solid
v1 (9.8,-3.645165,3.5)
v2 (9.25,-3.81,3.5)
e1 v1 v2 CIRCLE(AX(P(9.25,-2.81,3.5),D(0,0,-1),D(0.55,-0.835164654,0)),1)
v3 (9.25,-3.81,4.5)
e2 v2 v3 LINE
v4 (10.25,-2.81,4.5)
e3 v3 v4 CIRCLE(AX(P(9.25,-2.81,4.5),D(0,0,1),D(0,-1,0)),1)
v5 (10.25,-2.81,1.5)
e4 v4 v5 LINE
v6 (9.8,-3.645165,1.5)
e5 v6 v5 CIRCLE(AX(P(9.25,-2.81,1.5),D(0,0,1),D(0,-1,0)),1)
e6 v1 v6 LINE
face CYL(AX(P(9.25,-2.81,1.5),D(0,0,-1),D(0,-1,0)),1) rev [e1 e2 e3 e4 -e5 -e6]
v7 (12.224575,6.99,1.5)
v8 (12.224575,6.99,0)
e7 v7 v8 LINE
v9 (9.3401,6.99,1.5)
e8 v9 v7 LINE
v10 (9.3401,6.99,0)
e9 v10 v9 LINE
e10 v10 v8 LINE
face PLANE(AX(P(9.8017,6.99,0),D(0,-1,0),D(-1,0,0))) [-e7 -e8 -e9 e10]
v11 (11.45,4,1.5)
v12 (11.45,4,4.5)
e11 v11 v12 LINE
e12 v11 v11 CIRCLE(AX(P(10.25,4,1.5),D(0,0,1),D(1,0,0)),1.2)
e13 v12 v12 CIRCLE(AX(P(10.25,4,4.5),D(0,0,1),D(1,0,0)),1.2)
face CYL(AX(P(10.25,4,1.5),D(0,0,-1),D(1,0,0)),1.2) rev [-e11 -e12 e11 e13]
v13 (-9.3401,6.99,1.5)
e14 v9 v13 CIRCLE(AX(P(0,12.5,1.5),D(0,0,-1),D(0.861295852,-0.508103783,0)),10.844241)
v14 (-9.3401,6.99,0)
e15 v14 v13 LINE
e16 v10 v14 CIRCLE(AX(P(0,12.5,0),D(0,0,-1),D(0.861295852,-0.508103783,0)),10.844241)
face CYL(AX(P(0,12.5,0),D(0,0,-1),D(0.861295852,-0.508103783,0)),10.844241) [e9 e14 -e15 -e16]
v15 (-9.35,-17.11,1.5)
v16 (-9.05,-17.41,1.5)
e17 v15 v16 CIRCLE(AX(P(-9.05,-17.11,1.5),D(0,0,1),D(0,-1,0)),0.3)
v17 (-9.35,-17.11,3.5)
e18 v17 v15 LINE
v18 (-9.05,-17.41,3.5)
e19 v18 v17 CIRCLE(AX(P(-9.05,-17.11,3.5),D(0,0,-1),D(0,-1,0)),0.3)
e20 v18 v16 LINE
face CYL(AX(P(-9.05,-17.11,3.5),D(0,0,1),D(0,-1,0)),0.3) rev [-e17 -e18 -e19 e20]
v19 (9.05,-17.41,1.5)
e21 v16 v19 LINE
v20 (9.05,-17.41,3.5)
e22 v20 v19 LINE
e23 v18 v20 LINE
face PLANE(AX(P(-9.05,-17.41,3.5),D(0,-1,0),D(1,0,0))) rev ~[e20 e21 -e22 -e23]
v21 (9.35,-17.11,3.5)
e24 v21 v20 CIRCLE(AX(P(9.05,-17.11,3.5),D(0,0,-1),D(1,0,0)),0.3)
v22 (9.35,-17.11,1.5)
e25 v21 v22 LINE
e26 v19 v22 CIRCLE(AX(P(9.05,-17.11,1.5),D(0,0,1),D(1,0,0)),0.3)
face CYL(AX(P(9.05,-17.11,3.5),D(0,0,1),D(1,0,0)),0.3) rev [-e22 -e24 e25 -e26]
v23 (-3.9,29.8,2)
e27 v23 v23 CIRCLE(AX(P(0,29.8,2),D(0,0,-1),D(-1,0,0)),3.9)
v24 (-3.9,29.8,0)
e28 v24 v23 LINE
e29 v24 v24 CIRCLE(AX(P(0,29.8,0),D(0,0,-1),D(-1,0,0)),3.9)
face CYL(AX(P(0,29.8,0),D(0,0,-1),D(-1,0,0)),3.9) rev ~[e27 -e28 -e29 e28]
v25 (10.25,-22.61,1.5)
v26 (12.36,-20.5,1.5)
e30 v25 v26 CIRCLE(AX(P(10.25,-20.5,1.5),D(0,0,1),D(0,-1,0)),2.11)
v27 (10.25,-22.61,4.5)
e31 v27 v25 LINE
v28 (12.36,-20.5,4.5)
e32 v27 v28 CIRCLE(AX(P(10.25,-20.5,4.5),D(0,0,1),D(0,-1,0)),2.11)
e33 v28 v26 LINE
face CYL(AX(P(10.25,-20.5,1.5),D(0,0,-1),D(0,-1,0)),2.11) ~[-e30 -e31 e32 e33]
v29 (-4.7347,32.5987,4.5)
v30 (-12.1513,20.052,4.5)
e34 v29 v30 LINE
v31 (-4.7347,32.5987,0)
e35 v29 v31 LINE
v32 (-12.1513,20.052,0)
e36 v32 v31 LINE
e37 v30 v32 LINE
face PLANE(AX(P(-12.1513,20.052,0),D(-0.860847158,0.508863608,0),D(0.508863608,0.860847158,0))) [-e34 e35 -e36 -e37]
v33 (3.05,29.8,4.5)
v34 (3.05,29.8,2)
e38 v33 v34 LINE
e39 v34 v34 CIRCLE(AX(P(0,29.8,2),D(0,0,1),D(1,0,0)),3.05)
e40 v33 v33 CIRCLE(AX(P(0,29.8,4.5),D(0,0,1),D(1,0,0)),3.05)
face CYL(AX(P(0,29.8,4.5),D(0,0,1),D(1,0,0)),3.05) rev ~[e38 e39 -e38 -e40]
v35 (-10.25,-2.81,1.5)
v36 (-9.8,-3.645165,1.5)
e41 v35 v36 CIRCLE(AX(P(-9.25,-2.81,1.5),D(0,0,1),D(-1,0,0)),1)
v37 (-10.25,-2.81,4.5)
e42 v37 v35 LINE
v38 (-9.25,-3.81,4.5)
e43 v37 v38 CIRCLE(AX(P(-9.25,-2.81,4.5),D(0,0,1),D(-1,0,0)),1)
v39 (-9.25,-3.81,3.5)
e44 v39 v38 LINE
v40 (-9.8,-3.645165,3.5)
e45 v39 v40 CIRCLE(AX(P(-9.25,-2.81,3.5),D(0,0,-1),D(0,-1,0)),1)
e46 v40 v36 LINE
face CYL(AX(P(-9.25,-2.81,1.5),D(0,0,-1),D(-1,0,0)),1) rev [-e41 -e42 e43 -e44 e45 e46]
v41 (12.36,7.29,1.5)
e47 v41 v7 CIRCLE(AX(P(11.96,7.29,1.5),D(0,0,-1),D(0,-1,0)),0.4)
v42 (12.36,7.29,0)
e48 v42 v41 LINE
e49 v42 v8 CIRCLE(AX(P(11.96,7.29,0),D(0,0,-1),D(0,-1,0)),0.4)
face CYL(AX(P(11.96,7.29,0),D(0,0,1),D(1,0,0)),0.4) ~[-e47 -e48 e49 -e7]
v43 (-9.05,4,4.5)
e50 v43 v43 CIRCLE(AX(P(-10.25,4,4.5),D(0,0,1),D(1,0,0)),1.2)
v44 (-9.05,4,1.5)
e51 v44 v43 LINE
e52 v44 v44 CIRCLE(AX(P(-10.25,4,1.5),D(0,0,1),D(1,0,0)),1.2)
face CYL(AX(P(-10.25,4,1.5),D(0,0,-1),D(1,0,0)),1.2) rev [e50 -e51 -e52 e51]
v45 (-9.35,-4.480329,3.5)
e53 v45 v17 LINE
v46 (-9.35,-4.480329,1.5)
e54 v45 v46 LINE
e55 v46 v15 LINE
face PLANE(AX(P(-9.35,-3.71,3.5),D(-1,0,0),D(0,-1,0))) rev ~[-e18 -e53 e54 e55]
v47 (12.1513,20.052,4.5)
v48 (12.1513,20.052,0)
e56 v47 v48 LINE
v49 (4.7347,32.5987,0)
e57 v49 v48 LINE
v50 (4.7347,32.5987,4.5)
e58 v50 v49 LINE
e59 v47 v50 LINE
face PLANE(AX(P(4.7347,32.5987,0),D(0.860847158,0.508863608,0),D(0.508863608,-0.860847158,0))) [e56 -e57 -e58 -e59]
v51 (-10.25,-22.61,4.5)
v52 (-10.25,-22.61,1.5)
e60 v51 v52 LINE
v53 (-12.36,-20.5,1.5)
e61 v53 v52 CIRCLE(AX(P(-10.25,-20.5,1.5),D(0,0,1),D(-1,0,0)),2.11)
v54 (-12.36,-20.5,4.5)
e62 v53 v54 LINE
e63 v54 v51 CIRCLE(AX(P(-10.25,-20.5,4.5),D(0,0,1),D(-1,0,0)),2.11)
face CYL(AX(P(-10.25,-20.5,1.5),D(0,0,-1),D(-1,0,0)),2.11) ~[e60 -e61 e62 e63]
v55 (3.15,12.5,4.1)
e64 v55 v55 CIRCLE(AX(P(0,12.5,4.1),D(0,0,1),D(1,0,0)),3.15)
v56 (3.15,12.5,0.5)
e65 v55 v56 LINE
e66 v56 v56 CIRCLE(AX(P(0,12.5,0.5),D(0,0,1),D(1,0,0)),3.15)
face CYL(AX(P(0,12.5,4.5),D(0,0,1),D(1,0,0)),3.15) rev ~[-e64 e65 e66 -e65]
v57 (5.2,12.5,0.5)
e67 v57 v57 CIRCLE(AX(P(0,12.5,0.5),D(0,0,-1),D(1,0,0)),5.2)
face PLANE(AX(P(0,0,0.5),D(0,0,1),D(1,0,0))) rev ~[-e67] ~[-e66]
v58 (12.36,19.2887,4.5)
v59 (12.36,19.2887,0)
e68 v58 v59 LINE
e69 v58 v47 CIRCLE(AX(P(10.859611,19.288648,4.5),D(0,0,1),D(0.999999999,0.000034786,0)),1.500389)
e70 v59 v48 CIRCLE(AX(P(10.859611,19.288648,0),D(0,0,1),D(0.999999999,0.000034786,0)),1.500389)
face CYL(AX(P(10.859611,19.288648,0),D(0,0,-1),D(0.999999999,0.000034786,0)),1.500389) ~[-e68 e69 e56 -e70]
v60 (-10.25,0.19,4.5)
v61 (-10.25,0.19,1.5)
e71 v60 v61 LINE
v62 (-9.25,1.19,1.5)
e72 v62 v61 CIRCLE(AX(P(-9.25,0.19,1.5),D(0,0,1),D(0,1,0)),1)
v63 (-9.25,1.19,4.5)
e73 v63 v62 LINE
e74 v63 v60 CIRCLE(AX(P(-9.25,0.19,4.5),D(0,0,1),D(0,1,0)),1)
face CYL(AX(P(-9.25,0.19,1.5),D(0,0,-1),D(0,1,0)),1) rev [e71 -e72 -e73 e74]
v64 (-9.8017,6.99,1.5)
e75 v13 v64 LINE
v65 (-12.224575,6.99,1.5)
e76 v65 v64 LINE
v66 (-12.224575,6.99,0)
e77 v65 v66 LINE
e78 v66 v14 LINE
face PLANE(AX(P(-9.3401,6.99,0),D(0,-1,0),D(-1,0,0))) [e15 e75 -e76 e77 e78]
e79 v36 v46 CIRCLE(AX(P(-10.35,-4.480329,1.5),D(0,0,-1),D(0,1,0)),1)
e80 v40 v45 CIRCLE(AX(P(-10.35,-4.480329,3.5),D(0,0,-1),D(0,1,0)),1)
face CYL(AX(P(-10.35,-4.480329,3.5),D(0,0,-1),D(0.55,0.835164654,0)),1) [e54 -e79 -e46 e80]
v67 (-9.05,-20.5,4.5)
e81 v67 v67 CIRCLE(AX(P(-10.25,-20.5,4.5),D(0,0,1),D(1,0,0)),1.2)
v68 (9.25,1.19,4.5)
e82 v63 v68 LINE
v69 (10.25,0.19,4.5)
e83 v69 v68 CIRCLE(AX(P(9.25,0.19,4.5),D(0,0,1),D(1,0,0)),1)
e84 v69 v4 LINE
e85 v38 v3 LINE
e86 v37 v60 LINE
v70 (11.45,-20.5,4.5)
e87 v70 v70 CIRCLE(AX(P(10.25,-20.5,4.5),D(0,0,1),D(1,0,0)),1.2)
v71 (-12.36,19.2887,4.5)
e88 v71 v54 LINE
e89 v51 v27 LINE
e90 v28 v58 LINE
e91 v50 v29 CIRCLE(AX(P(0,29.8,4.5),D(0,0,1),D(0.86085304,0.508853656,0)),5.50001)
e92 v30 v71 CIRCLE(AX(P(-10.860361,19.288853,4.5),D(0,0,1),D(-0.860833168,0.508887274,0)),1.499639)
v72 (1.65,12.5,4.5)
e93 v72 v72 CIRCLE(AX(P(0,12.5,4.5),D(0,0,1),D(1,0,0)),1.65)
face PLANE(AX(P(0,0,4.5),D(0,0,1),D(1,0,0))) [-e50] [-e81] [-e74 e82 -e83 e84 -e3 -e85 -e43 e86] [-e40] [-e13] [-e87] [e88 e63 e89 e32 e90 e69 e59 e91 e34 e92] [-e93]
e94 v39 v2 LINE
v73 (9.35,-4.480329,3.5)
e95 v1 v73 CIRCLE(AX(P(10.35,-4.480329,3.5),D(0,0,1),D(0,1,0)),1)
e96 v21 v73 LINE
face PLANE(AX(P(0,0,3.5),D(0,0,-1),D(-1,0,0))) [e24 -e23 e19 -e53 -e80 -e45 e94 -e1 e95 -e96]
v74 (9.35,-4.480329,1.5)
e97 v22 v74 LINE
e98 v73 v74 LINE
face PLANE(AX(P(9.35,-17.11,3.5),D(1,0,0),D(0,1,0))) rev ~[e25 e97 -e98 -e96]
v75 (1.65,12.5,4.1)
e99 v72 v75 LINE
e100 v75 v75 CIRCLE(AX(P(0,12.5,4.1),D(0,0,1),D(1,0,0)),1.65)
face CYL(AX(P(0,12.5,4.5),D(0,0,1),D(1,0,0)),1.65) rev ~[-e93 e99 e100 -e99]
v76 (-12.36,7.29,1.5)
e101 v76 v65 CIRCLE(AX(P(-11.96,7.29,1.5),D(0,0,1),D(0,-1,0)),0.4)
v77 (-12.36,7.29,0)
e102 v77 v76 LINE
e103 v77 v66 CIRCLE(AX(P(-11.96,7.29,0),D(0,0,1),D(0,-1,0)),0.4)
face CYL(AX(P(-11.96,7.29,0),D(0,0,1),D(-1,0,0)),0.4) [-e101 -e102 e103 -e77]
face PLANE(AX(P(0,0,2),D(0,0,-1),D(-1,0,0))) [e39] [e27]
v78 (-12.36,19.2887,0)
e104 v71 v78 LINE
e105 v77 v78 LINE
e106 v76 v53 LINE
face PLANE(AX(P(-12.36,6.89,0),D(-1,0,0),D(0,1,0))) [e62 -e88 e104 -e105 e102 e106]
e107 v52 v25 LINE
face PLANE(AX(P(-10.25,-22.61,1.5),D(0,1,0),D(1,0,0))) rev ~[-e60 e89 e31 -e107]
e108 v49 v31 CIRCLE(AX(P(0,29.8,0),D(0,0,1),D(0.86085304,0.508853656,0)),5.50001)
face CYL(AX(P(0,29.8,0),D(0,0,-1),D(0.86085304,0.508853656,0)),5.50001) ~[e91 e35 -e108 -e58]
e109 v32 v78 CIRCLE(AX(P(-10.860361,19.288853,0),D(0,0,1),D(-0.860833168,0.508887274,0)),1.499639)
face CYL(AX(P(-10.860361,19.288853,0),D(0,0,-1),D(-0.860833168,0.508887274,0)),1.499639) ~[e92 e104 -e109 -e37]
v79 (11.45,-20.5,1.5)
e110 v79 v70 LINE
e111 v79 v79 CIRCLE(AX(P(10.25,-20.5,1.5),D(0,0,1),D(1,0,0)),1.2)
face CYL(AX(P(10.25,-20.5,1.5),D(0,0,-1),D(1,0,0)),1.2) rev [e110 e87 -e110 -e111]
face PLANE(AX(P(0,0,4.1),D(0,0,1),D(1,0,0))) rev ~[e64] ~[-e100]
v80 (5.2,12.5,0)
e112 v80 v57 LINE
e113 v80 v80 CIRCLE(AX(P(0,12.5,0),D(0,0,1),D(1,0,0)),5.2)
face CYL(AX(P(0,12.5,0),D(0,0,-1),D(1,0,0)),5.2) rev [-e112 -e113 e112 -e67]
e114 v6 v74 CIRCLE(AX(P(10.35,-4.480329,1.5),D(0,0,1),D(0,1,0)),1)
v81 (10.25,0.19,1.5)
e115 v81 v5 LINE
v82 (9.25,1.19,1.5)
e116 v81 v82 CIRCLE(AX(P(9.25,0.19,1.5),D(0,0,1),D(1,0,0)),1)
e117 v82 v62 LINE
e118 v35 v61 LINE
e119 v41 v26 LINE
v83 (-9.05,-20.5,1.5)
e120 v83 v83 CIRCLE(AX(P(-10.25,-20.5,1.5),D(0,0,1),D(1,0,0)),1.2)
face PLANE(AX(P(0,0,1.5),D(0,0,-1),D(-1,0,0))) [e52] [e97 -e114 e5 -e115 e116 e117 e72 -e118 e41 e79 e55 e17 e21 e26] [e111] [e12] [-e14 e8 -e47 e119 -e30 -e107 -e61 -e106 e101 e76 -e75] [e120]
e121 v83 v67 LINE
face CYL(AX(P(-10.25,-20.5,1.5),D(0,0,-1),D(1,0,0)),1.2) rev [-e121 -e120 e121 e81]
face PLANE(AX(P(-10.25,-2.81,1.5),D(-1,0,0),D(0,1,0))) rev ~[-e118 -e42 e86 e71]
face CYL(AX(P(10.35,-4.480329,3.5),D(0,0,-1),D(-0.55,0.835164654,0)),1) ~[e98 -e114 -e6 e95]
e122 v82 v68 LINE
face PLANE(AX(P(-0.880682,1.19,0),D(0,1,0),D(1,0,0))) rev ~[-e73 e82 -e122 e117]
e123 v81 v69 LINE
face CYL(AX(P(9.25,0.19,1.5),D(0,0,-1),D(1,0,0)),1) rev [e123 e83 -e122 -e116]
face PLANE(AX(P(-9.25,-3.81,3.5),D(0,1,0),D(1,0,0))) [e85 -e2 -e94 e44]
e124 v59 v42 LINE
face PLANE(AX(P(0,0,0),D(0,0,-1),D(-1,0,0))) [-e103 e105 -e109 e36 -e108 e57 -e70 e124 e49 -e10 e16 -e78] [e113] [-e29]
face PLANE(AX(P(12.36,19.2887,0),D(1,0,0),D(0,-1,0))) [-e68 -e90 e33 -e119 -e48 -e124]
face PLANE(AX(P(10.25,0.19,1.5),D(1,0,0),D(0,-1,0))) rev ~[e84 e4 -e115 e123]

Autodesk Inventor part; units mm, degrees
ref_plane "YZ Plane" through (0, 0, 0) normal (1, 0, 0) x (0, 1, 0)
ref_plane "XZ Plane" through (0, 0, 0) normal (0, 1, 0) x (-1, 0, 0)
ref_plane "XY Plane" through (0, 0, 0) normal (0, 0, 1) x (1, 0, 0)
sketch "スケッチ1" plane through (0, 0, 0) normal (0, 0, 1) x (1, 0, 0)
  circle A0 centre (0, 12.5) radius 5 construction
  line L0 (12.16, 19.2887) -> (12.16, 6.89) construction
  arc A1 (12.16, 19.2887) -> (11.7792, 20.2079) centre (10.86, 19.2887) ccw construction
  line L1 (9.9579, 22.0292) -> (11.7792, 20.2079) construction
  arc A2 (9.9579, 22.0292) -> (9.0387, 22.41) centre (9.0387, 21.11) ccw construction
  line L2 (0.95, 22.41) -> (9.0387, 22.41) construction
  line L3 (0.95, 19.61) -> (0.95, 22.41) construction
  arc A3 (-0.95, 19.61) -> (0.95, 19.61) centre (0, 19.61) ccw construction
  line L4 (-0.95, 22.41) -> (-0.95, 19.61) construction
  line L5 (-9.0387, 22.41) -> (-0.95, 22.41) construction
  arc A4 (-9.0387, 22.41) -> (-9.9579, 22.0292) centre (-9.0387, 21.11) ccw construction
  line L6 (-11.7792, 20.2079) -> (-9.9579, 22.0292) construction
  arc A5 (-11.7792, 20.2079) -> (-12.16, 19.2887) centre (-10.86, 19.2887) ccw construction
  line L7 (-12.16, 6.89) -> (-12.16, 19.2887) construction
  line L8 (-12.16, 6.89) -> (-9.9756, 6.89) construction
  arc A6 (-9.8028, 6.7907) -> (-9.9756, 6.89) centre (-9.9756, 6.69) ccw construction
  arc A7 (-9.8028, 6.7907) -> (-6.5643, 3.2479) centre (0, 12.5) ccw construction
  arc A8 (-6.48, 3.0847) -> (-6.5643, 3.2479) centre (-6.68, 3.0847) ccw construction
  line L9 (-6.48, 3.0847) -> (-6.48, 1.39) construction
  arc A9 (-6.68, 1.19) -> (-6.48, 1.39) centre (-6.68, 1.39) ccw construction
  line L10 (-6.68, 1.19) -> (6.68, 1.19) projected
  arc A10 (6.48, 1.39) -> (6.68, 1.19) centre (6.68, 1.39) ccw construction
  line L11 (6.48, 1.39) -> (6.48, 3.0847) construction
  arc A11 (6.5643, 3.2479) -> (6.48, 3.0847) centre (6.68, 3.0847) ccw construction
  arc A12 (6.5643, 3.2479) -> (9.8028, 6.7907) centre (0, 12.5) ccw construction
  arc A13 (9.9756, 6.89) -> (9.8028, 6.7907) centre (9.9756, 6.69) ccw construction
  line L12 (9.9756, 6.89) -> (12.16, 6.89) construction
  arc A14 (12.36, 19.2887) -> (12.1513, 20.052) centre (10.86, 19.2887) ccw projected
  arc A15 (-12.1513, 20.052) -> (-12.36, 19.2887) centre (-10.86, 19.2887) ccw projected
  line L13 (12.36, 19.2887) -> (12.36, -20.5) projected
  line L14 (-12.36, -20.5) -> (-12.36, 19.2887) projected
  line L15 (-12.36, 6.89) -> (-9.86, 6.89)
  line L16 (12.36, 6.89) -> (9.86, 6.89)
  arc A16 (-9.86, 6.89) -> (9.86, 6.89) centre (0, 12.5) ccw
  circle A17 centre (0, 12.5) radius 5.2
  arc A18 (4.7347, 32.5987) -> (-4.7347, 32.5987) centre (0, 29.8) ccw projected
  line L17 (-12.1513, 20.052) -> (-4.7347, 32.5987) projected
  circle A19 centre (0, 29.8) radius 1.5
  line L18 (4.7347, 32.5987) -> (12.1513, 20.052) projected
  circle A20 centre (0, 29.8) radius 1.5 construction
  point P0 (0, 0)
  point P1 (-11.1384, 22.2293)
  point P2 (11.1384, 22.2293)
  point P3 (-0.8807, 1.19)
  point P4 (0.8807, 1.19)
  dimension "d0" = 10.4
extrude "押し出し1" add sketch "スケッチ1" along normal blind 1.5 contours A16 L15 L14 A15 L17 A18 L18 A14 L13 L16 L10
sketch "スケッチ2" plane through (0, 0, 1.5) normal (0, 0, 1) x (1, 0, 0)
  arc A0 (-9.86, 6.89) -> (-0.8807, 1.19) centre (0, 12.5) ccw projected
  line L0 (9.1914, -4.7213) -> (9.25, -4.7213) projected
  ellipse E0 centre (9.05, -4.9213) end of major axis (9.05, -4.6384) minor radius 0.2 (9.25, -4.9213) -> (9.1914, -4.7213) ccw projected
  line L1 (9.25, -4.9213) -> (9.25, -17.11) projected
  arc A1 (9.05, -17.31) -> (9.25, -17.11) centre (9.05, -17.11) ccw projected
  line L2 (9.05, -17.31) -> (-9.05, -17.31) projected
  arc A2 (-9.25, -17.11) -> (-9.05, -17.31) centre (-9.05, -17.11) ccw projected
  line L3 (-9.25, -17.11) -> (-9.25, -4.9213) projected
  ellipse E1 centre (-9.05, -4.9213) end of major axis (-9.05, -5.2041) minor radius 0.2 (-9.1914, -4.7213) -> (-9.25, -4.9213) ccw projected
  line L4 (-9.25, -4.7213) -> (-9.1914, -4.7213) projected
  ellipse E2 centre (-9.25, -3.0242) end of major axis (-9.25, -4.7213) minor radius 1.2 (-10.45, -3.0242) -> (-9.25, -4.7213) ccw projected
  line L5 (-10.45, 0.19) -> (-10.45, -3.0242) projected
  arc A3 (-9.25, 1.39) -> (-10.45, 0.19) centre (-9.25, 0.19) ccw projected
  line L6 (-6.68, 1.39) -> (-9.25, 1.39) projected
  line L7 (-6.68, 3.0847) -> (-6.68, 1.39) projected
  arc A4 (-9.9756, 6.69) -> (-6.68, 3.0847) centre (0, 12.5) ccw construction
  line L8 (-12.16, 6.69) -> (-9.9756, 6.69) construction
  line L9 (-12.16, -20.5) -> (-12.16, 6.69) construction
  arc A5 (-12.16, -20.5) -> (-10.25, -22.41) centre (-10.25, -20.5) ccw construction
  line L10 (10.25, -22.41) -> (-10.25, -22.41) construction
  arc A6 (10.25, -22.41) -> (12.16, -20.5) centre (10.25, -20.5) ccw construction
  line L11 (12.16, 6.69) -> (12.16, -20.5) construction
  line L12 (9.9756, 6.69) -> (12.16, 6.69) construction
  arc A7 (6.68, 3.0847) -> (9.9756, 6.69) centre (0, 12.5) ccw construction
  line L13 (6.68, 1.39) -> (6.68, 3.0847) projected
  line L14 (9.25, 1.39) -> (6.68, 1.39) projected
  arc A8 (10.45, 0.19) -> (9.25, 1.39) centre (9.25, 0.19) ccw projected
  line L15 (10.45, -3.0242) -> (10.45, 0.19) projected
  ellipse E3 centre (9.25, -3.0242) end of major axis (9.25, -4.7213) minor radius 1.2 (9.25, -4.7213) -> (10.45, -3.0242) ccw projected
  circle A9 centre (10.25, 4) radius 0.7835 construction
  circle A10 centre (10.25, -20.5) radius 0.7835 construction
  circle A11 centre (-10.25, -20.5) radius 0.7835 construction
  circle A12 centre (-10.25, 4) radius 0.7835 construction
  arc A13 (-12.36, -20.5) -> (-10.25, -22.61) centre (-10.25, -20.5) ccw projected
  line L16 (-12.36, 6.69) -> (-12.36, -20.5) projected
  line L17 (-10.25, -22.61) -> (10.25, -22.61) projected
  arc A14 (10.25, -22.61) -> (12.36, -20.5) centre (10.25, -20.5) ccw projected
  line L18 (12.36, -20.5) -> (12.36, 6.69) projected
  line L19 (12.36, 6.69) -> (12.36, 19.2887) projected
  line L20 (-12.36, 19.2887) -> (-12.36, 6.69) projected
  circle A15 centre (-10.25, 4) radius 1.2
  circle A16 centre (-10.25, -20.5) radius 1.2
  circle A17 centre (10.25, -20.5) radius 1.2
  circle A18 centre (10.25, 4) radius 1.2
  line L21 (-6.68, 3.0847) -> (-6.68, 3.3311)
  line L22 (6.68, 3.0847) -> (6.68, 3.3311)
  line L23 (-6.68, 1.39) -> (6.68, 1.39)
  line L24 (9.86, 6.89) -> (12.36, 6.89) projected
  line L25 (12.36, 6.89) -> (12.36, 19.2887) projected
  arc A19 (12.36, 19.2887) -> (12.1513, 20.052) centre (10.86, 19.2887) ccw projected
  line L26 (12.1513, 20.052) -> (4.7347, 32.5987) projected
  arc A20 (4.7347, 32.5987) -> (-4.7347, 32.5987) centre (0, 29.8) ccw projected
  line L27 (-4.7347, 32.5987) -> (-12.1513, 20.052) projected
  arc A21 (-12.1513, 20.052) -> (-12.36, 19.2887) centre (-10.86, 19.2887) ccw projected
  line L28 (-12.36, 19.2887) -> (-12.36, 6.89) projected
  line L29 (-12.36, 6.89) -> (-9.86, 6.89) projected
  line L30 (-0.8807, 1.19) -> (0.8807, 1.19) projected
  arc A22 (0.8807, 1.19) -> (9.86, 6.89) centre (0, 12.5) ccw projected
  circle A23 centre (0, 12.5) radius 5.2 projected
  circle A24 centre (0, 29.8) radius 1.5 projected
  arc A25 (-10.25, -2.81) -> (-9.25, -3.81) centre (-9.25, -2.81) ccw projected
  line L31 (-10.25, -3.0242) -> (-10.25, 0.19) projected
  arc A26 (-9.25, 1.19) -> (-10.25, 0.19) centre (-9.25, 0.19) ccw projected
  line L32 (-9.25, 1.19) -> (-6.68, 1.19) projected
  line L33 (-6.68, 1.19) -> (6.68, 1.19) projected
  line L34 (6.68, 1.19) -> (9.25, 1.19) projected
  arc A27 (10.25, 0.19) -> (9.25, 1.19) centre (9.25, 0.19) ccw projected
  line L35 (10.25, 0.19) -> (10.25, -3.0242) projected
  arc A28 (9.25, -3.81) -> (10.25, -2.81) centre (9.25, -2.81) ccw projected
  line L36 (-9.25, -3.81) -> (9.25, -3.81) projected
  line L37 (-9.25, -4.9213) -> (-9.25, -3.81)
  line L38 (9.25, -4.9213) -> (9.25, -3.81)
  point P0 (0, 0)
  point P1 (12.36, 6.89)
  point P2 (-2.2934, 1.39)
  point P3 (2.2934, 1.39)
  point P4 (2.2934, 1.39)
  dimension "d3" = 2.4
extrude "押し出し2" add sketch "スケッチ2" along normal blind 2 contours L29 L20 A21 L27 A20 L26 A19 L19 L24 A22 L23 A0 | A0 L21 L7 L6 A3 L5 E2 L37 L3 A2 L2 A1 L1 L38 E3 L15 A8 L14 L13 L22 A22 L24 L19 L18 A14 L17 A13 L16 L20 L29 | A0 L23 L7 L21 | L23 A22 L30 A0 | A0 L33 L32 A26 L31 A25 L37 E2 L5 A3 L6 L23 | A22 L22 L13 L23 | L23 L14 A8 L15 E3 L38 A28 L35 A27 L34 L33 A22
sketch "スケッチ3" plane through (0, 0, 3.5) normal (0, 0, 1) x (1, 0, 0)
  line L0 (-12.36, 19.2887) -> (-12.36, -20.5) projected
  arc A0 (-12.36, -20.5) -> (-10.25, -22.61) centre (-10.25, -20.5) ccw projected
  line L1 (-10.25, -22.61) -> (10.25, -22.61) projected
  arc A1 (10.25, -22.61) -> (12.36, -20.5) centre (10.25, -20.5) ccw projected
  line L2 (12.36, -20.5) -> (12.36, 19.2887) projected
  arc A2 (12.36, 19.2887) -> (12.1513, 20.052) centre (10.86, 19.2887) ccw projected
  line L3 (12.1513, 20.052) -> (4.7347, 32.5987) projected
  arc A3 (4.7347, 32.5987) -> (-4.7347, 32.5987) centre (0, 29.8) ccw projected
  line L4 (-4.7347, 32.5987) -> (-12.1513, 20.052) projected
  arc A4 (-12.1513, 20.052) -> (-12.36, 19.2887) centre (-10.86, 19.2887) ccw projected
  line L5 (-9.25, -17.11) -> (-9.25, -3.81) projected
  arc A5 (-9.25, -17.11) -> (-9.05, -17.31) centre (-9.05, -17.11) ccw projected
  line L6 (9.05, -17.31) -> (-9.05, -17.31) projected
  arc A6 (9.05, -17.31) -> (9.25, -17.11) centre (9.05, -17.11) ccw projected
  circle A7 centre (-10.25, -20.5) radius 1.2 projected
  circle A8 centre (-10.25, 4) radius 1.2 projected
  circle A9 centre (10.25, 4) radius 1.2 projected
  circle A10 centre (10.25, -20.5) radius 1.2 projected
  line L7 (9.25, -3.81) -> (9.25, -17.11) projected
  arc A11 (-10.25, -2.81) -> (-9.25, -3.81) centre (-9.25, -2.81) ccw projected
  line L8 (-10.25, -2.81) -> (-10.25, 0.19) projected
  arc A12 (-9.25, 1.19) -> (-10.25, 0.19) centre (-9.25, 0.19) ccw projected
  line L9 (-9.25, 1.19) -> (9.25, 1.19) projected
  arc A13 (10.25, 0.19) -> (9.25, 1.19) centre (9.25, 0.19) ccw projected
  line L10 (10.25, 0.19) -> (10.25, -2.81) projected
  arc A14 (9.25, -3.81) -> (10.25, -2.81) centre (9.25, -2.81) ccw projected
  circle A15 centre (0, 29.8) radius 1.5 projected
  circle A16 centre (0, 12.5) radius 5.2 projected
  line L11 (-9.25, -3.81) -> (9.25, -3.81)
extrude "押し出し3" add sketch "スケッチ3" along normal blind 1 contours A4 L4 A3 L3 A2 L2 A1 L1 A0 L0 | L5 L11 L7 A6 L6 A5
sketch "スケッチ5" plane through (0, 0, 4.5) normal (0, 0, 1) x (1, 0, 0)
  circle A0 centre (0, 12.5) radius 5.2382
  circle A1 centre (0, 12.5) radius 3.15
  point P0 (0, 0)
  dimension "d11" = 6.3
extrude "押し出し5" add sketch "スケッチ5" against normal blind 4
sketch "スケッチ6" plane through (0, 0, 4.5) normal (0, 0, 1) x (1, 0, 0)
  circle A0 centre (0, 12.5) radius 3.15 projected
  circle A1 centre (0, 12.5) radius 1.65
  point P0 (0, 0)
  dimension "d14" = 3.3
extrude "押し出し6" add sketch "スケッチ6" against normal blind 0.4
fillet "フィレット1" radius 0.4 2 edges at (-12.36, 6.89, 0.75) (12.36, 6.89, 0.75)
sketch "スケッチ7" plane through (0, 0, 0) normal (0, 0, -1) x (-1, 0, 0)
  circle A0 centre (0, 29.8) radius 1.5 projected
  circle A1 centre (0, 29.8) radius 3.9
  point P0 (0, 0)
  dimension "d18" = 7.8
extrude "押し出し7" cut sketch "スケッチ7" against normal blind 2
sketch "スケッチ8" plane through (0, 0, 3.5) normal (0, 0, -1) x (-1, 0, 0)
  line L0 (-9.25, -3.81) -> (-9.25, -17.11) projected
  arc A0 (-9.25, -17.11) -> (-9.05, -17.31) centre (-9.05, -17.11) ccw projected
  line L1 (-9.05, -17.31) -> (9.05, -17.31) projected
  arc A1 (9.05, -17.31) -> (9.25, -17.11) centre (9.05, -17.11) ccw projected
  line L2 (9.25, -17.11) -> (9.25, -3.81) projected
  line L3 (-9.25, -3.81) -> (9.25, -3.81) projected
  line L4 (9.35, -3.71) -> (9.35, -17.11)
  arc A2 (9.05, -17.41) -> (9.35, -17.11) centre (9.05, -17.11) ccw
  line L5 (9.05, -17.41) -> (-9.05, -17.41)
  arc A3 (-9.35, -17.11) -> (-9.05, -17.41) centre (-9.05, -17.11) ccw
  line L6 (-9.35, -17.11) -> (-9.35, -3.71)
  line L7 (-9.35, -3.71) -> (9.35, -3.71)
  point P0 (0, 0)
  dimension "d21" = 0.1
extrude "押し出し8" cut sketch "スケッチ8" along normal through all
sketch "スケッチ10" plane through (0, 0, 1.5) normal (0, 0, -1) x (-1, 0, 0)
  line L0 (-9.35, -17.11) -> (-9.35, -3.805) projected
  arc A0 (-10.25, -2.81) -> (-9.35, -3.805) centre (-9.25, -2.81) ccw projected
  line L1 (-10.25, 0.19) -> (-10.25, -2.81) projected
  arc A1 (-9.25, 1.19) -> (-10.25, 0.19) centre (-9.25, 0.19) ccw projected
  arc A2 (-9.86, 6.89) -> (-0.8807, 1.19) centre (0, 12.5) ccw projected
  line L2 (-9.86, 6.89) -> (-11.96, 6.89) projected
  arc A3 (-12.36, 7.29) -> (-11.96, 6.89) centre (-11.96, 7.29) ccw projected
  line L3 (-12.36, -20.5) -> (-12.36, 7.29) projected
  arc A4 (-12.36, -20.5) -> (-10.25, -22.61) centre (-10.25, -20.5) ccw projected
  line L4 (10.25, -22.61) -> (-10.25, -22.61) projected
  arc A5 (10.25, -22.61) -> (12.36, -20.5) centre (10.25, -20.5) ccw projected
  line L5 (12.36, 7.29) -> (12.36, -20.5) projected
  arc A6 (11.96, 6.89) -> (12.36, 7.29) centre (11.96, 7.29) ccw projected
  line L6 (11.96, 6.89) -> (9.86, 6.89) projected
  arc A7 (0.8807, 1.19) -> (9.86, 6.89) centre (0, 12.5) ccw projected
  arc A8 (10.25, 0.19) -> (9.25, 1.19) centre (9.25, 0.19) ccw projected
  line L7 (10.25, -2.81) -> (10.25, 0.19) projected
  arc A9 (9.35, -3.805) -> (10.25, -2.81) centre (9.25, -2.81) ccw projected
  line L8 (9.35, -3.805) -> (9.35, -17.11) projected
  arc A10 (9.05, -17.41) -> (9.35, -17.11) centre (9.05, -17.11) ccw projected
  line L9 (9.05, -17.41) -> (-9.05, -17.41) projected
  arc A11 (-9.35, -17.11) -> (-9.05, -17.41) centre (-9.05, -17.11) ccw projected
  circle A12 centre (10.25, 4) radius 1.2 projected
  circle A13 centre (10.25, -20.5) radius 1.2 projected
  circle A14 centre (-10.25, -20.5) radius 1.2 projected
  circle A15 centre (-10.25, 4) radius 1.2 projected
  circle A16 centre (0, 12.5) radius 1.65 projected
  line L10 (0.8807, 1.19) -> (-0.8807, 1.19) projected
  arc A17 (-0.8807, 1.19) -> (0.8807, 1.19) centre (0, 12.5) ccw
  arc A18 (-9.8017, 6.99) -> (-0.8768, 1.29) centre (0, 12.5) ccw
  line L11 (-9.8017, 6.99) -> (-12.46, 6.99)
  line L12 (-12.46, 6.99) -> (-12.46, -20.5)
  arc A19 (-12.46, -20.5) -> (-10.25, -22.71) centre (-10.25, -20.5) ccw
  line L13 (-10.25, -22.71) -> (10.25, -22.71)
  arc A20 (10.25, -22.71) -> (12.46, -20.5) centre (10.25, -20.5) ccw
  line L14 (12.46, -20.5) -> (12.46, 6.99)
  line L15 (12.46, 6.99) -> (9.8017, 6.99)
  arc A21 (0.8768, 1.29) -> (9.8017, 6.99) centre (0, 12.5) ccw
  line L16 (0.8768, 1.29) -> (-0.8768, 1.29)
  point P0 (0, 0)
  point P1 (12.2246, 6.99)
  point P2 (-12.2246, 6.99)
  dimension "d24" = 0.1
extrude "押し出し9" cut sketch "スケッチ10" along normal through all
sketch "スケッチ11" plane through (0, 0, 0) normal (0, 0, -1) x (-1, 0, 0)
  line L0 (-0.8768, 1.29) -> (0.8768, 1.29) projected
  arc A0 (-9.8017, 6.99) -> (-0.8768, 1.29) centre (0, 12.5) ccw projected
  arc A1 (0.8768, 1.29) -> (9.8017, 6.99) centre (0, 12.5) ccw projected
  circle A2 centre (0, 12.5) radius 3.15 projected
  arc A3 (-0.8768, 1.29) -> (0.8768, 1.29) centre (0, 12.5) ccw
  point P0 (0, 0)
extrude "押し出し10" add sketch "スケッチ11" against normal up to surface (1.5 mm away) contours L0 A3
sketch "スケッチ15" plane through (0, 0, 0) normal (0, 0, -1) x (-1, 0, 0)
  arc A0 (-9.8017, 6.99) -> (9.8017, 6.99) centre (0, 12.5) ccw projected
  arc A1 (-9.3401, 6.99) -> (9.3401, 6.99) centre (0, 12.5) ccw
  line L0 (-9.8017, 6.99) -> (-9.3401, 6.99)
  line L1 (9.8017, 6.99) -> (12.2246, 6.99) projected
  line L2 (9.3401, 6.99) -> (9.8017, 6.99)
  point P0 (0, 0)
  dimension "d42" = 0.4
extrude "押し出し13" cut sketch "スケッチ15" against normal up to surface (1.5 mm away)
fillet "フィレット2" radius 1 2 edges at (9.35, -3.805, 2.5) (-9.35, -3.805, 2.5)
sketch "スケッチ16" plane through (0, 0, 4.5) normal (0, 0, 1) x (1, 0, 0)
  circle A0 centre (0, 29.8) radius 1.5 construction
  circle A1 centre (0, 29.8) radius 3.05
  point P0 (0, 0)
  dimension "d45" = 6.1
extrude "押し出し14" cut sketch "スケッチ16" against normal through all
sketch "スケッチ13" plane through (0, 0, 4.5) normal (0, 0, 1) x (1, 0, 0)
  circle A0 centre (0, 29.8) radius 1.5 projected
  circle A1 centre (0, 29.5) radius 3
  point P0 (0, 0)
  dimension "d36" = 6
properties part number "servo_side_plate2"
